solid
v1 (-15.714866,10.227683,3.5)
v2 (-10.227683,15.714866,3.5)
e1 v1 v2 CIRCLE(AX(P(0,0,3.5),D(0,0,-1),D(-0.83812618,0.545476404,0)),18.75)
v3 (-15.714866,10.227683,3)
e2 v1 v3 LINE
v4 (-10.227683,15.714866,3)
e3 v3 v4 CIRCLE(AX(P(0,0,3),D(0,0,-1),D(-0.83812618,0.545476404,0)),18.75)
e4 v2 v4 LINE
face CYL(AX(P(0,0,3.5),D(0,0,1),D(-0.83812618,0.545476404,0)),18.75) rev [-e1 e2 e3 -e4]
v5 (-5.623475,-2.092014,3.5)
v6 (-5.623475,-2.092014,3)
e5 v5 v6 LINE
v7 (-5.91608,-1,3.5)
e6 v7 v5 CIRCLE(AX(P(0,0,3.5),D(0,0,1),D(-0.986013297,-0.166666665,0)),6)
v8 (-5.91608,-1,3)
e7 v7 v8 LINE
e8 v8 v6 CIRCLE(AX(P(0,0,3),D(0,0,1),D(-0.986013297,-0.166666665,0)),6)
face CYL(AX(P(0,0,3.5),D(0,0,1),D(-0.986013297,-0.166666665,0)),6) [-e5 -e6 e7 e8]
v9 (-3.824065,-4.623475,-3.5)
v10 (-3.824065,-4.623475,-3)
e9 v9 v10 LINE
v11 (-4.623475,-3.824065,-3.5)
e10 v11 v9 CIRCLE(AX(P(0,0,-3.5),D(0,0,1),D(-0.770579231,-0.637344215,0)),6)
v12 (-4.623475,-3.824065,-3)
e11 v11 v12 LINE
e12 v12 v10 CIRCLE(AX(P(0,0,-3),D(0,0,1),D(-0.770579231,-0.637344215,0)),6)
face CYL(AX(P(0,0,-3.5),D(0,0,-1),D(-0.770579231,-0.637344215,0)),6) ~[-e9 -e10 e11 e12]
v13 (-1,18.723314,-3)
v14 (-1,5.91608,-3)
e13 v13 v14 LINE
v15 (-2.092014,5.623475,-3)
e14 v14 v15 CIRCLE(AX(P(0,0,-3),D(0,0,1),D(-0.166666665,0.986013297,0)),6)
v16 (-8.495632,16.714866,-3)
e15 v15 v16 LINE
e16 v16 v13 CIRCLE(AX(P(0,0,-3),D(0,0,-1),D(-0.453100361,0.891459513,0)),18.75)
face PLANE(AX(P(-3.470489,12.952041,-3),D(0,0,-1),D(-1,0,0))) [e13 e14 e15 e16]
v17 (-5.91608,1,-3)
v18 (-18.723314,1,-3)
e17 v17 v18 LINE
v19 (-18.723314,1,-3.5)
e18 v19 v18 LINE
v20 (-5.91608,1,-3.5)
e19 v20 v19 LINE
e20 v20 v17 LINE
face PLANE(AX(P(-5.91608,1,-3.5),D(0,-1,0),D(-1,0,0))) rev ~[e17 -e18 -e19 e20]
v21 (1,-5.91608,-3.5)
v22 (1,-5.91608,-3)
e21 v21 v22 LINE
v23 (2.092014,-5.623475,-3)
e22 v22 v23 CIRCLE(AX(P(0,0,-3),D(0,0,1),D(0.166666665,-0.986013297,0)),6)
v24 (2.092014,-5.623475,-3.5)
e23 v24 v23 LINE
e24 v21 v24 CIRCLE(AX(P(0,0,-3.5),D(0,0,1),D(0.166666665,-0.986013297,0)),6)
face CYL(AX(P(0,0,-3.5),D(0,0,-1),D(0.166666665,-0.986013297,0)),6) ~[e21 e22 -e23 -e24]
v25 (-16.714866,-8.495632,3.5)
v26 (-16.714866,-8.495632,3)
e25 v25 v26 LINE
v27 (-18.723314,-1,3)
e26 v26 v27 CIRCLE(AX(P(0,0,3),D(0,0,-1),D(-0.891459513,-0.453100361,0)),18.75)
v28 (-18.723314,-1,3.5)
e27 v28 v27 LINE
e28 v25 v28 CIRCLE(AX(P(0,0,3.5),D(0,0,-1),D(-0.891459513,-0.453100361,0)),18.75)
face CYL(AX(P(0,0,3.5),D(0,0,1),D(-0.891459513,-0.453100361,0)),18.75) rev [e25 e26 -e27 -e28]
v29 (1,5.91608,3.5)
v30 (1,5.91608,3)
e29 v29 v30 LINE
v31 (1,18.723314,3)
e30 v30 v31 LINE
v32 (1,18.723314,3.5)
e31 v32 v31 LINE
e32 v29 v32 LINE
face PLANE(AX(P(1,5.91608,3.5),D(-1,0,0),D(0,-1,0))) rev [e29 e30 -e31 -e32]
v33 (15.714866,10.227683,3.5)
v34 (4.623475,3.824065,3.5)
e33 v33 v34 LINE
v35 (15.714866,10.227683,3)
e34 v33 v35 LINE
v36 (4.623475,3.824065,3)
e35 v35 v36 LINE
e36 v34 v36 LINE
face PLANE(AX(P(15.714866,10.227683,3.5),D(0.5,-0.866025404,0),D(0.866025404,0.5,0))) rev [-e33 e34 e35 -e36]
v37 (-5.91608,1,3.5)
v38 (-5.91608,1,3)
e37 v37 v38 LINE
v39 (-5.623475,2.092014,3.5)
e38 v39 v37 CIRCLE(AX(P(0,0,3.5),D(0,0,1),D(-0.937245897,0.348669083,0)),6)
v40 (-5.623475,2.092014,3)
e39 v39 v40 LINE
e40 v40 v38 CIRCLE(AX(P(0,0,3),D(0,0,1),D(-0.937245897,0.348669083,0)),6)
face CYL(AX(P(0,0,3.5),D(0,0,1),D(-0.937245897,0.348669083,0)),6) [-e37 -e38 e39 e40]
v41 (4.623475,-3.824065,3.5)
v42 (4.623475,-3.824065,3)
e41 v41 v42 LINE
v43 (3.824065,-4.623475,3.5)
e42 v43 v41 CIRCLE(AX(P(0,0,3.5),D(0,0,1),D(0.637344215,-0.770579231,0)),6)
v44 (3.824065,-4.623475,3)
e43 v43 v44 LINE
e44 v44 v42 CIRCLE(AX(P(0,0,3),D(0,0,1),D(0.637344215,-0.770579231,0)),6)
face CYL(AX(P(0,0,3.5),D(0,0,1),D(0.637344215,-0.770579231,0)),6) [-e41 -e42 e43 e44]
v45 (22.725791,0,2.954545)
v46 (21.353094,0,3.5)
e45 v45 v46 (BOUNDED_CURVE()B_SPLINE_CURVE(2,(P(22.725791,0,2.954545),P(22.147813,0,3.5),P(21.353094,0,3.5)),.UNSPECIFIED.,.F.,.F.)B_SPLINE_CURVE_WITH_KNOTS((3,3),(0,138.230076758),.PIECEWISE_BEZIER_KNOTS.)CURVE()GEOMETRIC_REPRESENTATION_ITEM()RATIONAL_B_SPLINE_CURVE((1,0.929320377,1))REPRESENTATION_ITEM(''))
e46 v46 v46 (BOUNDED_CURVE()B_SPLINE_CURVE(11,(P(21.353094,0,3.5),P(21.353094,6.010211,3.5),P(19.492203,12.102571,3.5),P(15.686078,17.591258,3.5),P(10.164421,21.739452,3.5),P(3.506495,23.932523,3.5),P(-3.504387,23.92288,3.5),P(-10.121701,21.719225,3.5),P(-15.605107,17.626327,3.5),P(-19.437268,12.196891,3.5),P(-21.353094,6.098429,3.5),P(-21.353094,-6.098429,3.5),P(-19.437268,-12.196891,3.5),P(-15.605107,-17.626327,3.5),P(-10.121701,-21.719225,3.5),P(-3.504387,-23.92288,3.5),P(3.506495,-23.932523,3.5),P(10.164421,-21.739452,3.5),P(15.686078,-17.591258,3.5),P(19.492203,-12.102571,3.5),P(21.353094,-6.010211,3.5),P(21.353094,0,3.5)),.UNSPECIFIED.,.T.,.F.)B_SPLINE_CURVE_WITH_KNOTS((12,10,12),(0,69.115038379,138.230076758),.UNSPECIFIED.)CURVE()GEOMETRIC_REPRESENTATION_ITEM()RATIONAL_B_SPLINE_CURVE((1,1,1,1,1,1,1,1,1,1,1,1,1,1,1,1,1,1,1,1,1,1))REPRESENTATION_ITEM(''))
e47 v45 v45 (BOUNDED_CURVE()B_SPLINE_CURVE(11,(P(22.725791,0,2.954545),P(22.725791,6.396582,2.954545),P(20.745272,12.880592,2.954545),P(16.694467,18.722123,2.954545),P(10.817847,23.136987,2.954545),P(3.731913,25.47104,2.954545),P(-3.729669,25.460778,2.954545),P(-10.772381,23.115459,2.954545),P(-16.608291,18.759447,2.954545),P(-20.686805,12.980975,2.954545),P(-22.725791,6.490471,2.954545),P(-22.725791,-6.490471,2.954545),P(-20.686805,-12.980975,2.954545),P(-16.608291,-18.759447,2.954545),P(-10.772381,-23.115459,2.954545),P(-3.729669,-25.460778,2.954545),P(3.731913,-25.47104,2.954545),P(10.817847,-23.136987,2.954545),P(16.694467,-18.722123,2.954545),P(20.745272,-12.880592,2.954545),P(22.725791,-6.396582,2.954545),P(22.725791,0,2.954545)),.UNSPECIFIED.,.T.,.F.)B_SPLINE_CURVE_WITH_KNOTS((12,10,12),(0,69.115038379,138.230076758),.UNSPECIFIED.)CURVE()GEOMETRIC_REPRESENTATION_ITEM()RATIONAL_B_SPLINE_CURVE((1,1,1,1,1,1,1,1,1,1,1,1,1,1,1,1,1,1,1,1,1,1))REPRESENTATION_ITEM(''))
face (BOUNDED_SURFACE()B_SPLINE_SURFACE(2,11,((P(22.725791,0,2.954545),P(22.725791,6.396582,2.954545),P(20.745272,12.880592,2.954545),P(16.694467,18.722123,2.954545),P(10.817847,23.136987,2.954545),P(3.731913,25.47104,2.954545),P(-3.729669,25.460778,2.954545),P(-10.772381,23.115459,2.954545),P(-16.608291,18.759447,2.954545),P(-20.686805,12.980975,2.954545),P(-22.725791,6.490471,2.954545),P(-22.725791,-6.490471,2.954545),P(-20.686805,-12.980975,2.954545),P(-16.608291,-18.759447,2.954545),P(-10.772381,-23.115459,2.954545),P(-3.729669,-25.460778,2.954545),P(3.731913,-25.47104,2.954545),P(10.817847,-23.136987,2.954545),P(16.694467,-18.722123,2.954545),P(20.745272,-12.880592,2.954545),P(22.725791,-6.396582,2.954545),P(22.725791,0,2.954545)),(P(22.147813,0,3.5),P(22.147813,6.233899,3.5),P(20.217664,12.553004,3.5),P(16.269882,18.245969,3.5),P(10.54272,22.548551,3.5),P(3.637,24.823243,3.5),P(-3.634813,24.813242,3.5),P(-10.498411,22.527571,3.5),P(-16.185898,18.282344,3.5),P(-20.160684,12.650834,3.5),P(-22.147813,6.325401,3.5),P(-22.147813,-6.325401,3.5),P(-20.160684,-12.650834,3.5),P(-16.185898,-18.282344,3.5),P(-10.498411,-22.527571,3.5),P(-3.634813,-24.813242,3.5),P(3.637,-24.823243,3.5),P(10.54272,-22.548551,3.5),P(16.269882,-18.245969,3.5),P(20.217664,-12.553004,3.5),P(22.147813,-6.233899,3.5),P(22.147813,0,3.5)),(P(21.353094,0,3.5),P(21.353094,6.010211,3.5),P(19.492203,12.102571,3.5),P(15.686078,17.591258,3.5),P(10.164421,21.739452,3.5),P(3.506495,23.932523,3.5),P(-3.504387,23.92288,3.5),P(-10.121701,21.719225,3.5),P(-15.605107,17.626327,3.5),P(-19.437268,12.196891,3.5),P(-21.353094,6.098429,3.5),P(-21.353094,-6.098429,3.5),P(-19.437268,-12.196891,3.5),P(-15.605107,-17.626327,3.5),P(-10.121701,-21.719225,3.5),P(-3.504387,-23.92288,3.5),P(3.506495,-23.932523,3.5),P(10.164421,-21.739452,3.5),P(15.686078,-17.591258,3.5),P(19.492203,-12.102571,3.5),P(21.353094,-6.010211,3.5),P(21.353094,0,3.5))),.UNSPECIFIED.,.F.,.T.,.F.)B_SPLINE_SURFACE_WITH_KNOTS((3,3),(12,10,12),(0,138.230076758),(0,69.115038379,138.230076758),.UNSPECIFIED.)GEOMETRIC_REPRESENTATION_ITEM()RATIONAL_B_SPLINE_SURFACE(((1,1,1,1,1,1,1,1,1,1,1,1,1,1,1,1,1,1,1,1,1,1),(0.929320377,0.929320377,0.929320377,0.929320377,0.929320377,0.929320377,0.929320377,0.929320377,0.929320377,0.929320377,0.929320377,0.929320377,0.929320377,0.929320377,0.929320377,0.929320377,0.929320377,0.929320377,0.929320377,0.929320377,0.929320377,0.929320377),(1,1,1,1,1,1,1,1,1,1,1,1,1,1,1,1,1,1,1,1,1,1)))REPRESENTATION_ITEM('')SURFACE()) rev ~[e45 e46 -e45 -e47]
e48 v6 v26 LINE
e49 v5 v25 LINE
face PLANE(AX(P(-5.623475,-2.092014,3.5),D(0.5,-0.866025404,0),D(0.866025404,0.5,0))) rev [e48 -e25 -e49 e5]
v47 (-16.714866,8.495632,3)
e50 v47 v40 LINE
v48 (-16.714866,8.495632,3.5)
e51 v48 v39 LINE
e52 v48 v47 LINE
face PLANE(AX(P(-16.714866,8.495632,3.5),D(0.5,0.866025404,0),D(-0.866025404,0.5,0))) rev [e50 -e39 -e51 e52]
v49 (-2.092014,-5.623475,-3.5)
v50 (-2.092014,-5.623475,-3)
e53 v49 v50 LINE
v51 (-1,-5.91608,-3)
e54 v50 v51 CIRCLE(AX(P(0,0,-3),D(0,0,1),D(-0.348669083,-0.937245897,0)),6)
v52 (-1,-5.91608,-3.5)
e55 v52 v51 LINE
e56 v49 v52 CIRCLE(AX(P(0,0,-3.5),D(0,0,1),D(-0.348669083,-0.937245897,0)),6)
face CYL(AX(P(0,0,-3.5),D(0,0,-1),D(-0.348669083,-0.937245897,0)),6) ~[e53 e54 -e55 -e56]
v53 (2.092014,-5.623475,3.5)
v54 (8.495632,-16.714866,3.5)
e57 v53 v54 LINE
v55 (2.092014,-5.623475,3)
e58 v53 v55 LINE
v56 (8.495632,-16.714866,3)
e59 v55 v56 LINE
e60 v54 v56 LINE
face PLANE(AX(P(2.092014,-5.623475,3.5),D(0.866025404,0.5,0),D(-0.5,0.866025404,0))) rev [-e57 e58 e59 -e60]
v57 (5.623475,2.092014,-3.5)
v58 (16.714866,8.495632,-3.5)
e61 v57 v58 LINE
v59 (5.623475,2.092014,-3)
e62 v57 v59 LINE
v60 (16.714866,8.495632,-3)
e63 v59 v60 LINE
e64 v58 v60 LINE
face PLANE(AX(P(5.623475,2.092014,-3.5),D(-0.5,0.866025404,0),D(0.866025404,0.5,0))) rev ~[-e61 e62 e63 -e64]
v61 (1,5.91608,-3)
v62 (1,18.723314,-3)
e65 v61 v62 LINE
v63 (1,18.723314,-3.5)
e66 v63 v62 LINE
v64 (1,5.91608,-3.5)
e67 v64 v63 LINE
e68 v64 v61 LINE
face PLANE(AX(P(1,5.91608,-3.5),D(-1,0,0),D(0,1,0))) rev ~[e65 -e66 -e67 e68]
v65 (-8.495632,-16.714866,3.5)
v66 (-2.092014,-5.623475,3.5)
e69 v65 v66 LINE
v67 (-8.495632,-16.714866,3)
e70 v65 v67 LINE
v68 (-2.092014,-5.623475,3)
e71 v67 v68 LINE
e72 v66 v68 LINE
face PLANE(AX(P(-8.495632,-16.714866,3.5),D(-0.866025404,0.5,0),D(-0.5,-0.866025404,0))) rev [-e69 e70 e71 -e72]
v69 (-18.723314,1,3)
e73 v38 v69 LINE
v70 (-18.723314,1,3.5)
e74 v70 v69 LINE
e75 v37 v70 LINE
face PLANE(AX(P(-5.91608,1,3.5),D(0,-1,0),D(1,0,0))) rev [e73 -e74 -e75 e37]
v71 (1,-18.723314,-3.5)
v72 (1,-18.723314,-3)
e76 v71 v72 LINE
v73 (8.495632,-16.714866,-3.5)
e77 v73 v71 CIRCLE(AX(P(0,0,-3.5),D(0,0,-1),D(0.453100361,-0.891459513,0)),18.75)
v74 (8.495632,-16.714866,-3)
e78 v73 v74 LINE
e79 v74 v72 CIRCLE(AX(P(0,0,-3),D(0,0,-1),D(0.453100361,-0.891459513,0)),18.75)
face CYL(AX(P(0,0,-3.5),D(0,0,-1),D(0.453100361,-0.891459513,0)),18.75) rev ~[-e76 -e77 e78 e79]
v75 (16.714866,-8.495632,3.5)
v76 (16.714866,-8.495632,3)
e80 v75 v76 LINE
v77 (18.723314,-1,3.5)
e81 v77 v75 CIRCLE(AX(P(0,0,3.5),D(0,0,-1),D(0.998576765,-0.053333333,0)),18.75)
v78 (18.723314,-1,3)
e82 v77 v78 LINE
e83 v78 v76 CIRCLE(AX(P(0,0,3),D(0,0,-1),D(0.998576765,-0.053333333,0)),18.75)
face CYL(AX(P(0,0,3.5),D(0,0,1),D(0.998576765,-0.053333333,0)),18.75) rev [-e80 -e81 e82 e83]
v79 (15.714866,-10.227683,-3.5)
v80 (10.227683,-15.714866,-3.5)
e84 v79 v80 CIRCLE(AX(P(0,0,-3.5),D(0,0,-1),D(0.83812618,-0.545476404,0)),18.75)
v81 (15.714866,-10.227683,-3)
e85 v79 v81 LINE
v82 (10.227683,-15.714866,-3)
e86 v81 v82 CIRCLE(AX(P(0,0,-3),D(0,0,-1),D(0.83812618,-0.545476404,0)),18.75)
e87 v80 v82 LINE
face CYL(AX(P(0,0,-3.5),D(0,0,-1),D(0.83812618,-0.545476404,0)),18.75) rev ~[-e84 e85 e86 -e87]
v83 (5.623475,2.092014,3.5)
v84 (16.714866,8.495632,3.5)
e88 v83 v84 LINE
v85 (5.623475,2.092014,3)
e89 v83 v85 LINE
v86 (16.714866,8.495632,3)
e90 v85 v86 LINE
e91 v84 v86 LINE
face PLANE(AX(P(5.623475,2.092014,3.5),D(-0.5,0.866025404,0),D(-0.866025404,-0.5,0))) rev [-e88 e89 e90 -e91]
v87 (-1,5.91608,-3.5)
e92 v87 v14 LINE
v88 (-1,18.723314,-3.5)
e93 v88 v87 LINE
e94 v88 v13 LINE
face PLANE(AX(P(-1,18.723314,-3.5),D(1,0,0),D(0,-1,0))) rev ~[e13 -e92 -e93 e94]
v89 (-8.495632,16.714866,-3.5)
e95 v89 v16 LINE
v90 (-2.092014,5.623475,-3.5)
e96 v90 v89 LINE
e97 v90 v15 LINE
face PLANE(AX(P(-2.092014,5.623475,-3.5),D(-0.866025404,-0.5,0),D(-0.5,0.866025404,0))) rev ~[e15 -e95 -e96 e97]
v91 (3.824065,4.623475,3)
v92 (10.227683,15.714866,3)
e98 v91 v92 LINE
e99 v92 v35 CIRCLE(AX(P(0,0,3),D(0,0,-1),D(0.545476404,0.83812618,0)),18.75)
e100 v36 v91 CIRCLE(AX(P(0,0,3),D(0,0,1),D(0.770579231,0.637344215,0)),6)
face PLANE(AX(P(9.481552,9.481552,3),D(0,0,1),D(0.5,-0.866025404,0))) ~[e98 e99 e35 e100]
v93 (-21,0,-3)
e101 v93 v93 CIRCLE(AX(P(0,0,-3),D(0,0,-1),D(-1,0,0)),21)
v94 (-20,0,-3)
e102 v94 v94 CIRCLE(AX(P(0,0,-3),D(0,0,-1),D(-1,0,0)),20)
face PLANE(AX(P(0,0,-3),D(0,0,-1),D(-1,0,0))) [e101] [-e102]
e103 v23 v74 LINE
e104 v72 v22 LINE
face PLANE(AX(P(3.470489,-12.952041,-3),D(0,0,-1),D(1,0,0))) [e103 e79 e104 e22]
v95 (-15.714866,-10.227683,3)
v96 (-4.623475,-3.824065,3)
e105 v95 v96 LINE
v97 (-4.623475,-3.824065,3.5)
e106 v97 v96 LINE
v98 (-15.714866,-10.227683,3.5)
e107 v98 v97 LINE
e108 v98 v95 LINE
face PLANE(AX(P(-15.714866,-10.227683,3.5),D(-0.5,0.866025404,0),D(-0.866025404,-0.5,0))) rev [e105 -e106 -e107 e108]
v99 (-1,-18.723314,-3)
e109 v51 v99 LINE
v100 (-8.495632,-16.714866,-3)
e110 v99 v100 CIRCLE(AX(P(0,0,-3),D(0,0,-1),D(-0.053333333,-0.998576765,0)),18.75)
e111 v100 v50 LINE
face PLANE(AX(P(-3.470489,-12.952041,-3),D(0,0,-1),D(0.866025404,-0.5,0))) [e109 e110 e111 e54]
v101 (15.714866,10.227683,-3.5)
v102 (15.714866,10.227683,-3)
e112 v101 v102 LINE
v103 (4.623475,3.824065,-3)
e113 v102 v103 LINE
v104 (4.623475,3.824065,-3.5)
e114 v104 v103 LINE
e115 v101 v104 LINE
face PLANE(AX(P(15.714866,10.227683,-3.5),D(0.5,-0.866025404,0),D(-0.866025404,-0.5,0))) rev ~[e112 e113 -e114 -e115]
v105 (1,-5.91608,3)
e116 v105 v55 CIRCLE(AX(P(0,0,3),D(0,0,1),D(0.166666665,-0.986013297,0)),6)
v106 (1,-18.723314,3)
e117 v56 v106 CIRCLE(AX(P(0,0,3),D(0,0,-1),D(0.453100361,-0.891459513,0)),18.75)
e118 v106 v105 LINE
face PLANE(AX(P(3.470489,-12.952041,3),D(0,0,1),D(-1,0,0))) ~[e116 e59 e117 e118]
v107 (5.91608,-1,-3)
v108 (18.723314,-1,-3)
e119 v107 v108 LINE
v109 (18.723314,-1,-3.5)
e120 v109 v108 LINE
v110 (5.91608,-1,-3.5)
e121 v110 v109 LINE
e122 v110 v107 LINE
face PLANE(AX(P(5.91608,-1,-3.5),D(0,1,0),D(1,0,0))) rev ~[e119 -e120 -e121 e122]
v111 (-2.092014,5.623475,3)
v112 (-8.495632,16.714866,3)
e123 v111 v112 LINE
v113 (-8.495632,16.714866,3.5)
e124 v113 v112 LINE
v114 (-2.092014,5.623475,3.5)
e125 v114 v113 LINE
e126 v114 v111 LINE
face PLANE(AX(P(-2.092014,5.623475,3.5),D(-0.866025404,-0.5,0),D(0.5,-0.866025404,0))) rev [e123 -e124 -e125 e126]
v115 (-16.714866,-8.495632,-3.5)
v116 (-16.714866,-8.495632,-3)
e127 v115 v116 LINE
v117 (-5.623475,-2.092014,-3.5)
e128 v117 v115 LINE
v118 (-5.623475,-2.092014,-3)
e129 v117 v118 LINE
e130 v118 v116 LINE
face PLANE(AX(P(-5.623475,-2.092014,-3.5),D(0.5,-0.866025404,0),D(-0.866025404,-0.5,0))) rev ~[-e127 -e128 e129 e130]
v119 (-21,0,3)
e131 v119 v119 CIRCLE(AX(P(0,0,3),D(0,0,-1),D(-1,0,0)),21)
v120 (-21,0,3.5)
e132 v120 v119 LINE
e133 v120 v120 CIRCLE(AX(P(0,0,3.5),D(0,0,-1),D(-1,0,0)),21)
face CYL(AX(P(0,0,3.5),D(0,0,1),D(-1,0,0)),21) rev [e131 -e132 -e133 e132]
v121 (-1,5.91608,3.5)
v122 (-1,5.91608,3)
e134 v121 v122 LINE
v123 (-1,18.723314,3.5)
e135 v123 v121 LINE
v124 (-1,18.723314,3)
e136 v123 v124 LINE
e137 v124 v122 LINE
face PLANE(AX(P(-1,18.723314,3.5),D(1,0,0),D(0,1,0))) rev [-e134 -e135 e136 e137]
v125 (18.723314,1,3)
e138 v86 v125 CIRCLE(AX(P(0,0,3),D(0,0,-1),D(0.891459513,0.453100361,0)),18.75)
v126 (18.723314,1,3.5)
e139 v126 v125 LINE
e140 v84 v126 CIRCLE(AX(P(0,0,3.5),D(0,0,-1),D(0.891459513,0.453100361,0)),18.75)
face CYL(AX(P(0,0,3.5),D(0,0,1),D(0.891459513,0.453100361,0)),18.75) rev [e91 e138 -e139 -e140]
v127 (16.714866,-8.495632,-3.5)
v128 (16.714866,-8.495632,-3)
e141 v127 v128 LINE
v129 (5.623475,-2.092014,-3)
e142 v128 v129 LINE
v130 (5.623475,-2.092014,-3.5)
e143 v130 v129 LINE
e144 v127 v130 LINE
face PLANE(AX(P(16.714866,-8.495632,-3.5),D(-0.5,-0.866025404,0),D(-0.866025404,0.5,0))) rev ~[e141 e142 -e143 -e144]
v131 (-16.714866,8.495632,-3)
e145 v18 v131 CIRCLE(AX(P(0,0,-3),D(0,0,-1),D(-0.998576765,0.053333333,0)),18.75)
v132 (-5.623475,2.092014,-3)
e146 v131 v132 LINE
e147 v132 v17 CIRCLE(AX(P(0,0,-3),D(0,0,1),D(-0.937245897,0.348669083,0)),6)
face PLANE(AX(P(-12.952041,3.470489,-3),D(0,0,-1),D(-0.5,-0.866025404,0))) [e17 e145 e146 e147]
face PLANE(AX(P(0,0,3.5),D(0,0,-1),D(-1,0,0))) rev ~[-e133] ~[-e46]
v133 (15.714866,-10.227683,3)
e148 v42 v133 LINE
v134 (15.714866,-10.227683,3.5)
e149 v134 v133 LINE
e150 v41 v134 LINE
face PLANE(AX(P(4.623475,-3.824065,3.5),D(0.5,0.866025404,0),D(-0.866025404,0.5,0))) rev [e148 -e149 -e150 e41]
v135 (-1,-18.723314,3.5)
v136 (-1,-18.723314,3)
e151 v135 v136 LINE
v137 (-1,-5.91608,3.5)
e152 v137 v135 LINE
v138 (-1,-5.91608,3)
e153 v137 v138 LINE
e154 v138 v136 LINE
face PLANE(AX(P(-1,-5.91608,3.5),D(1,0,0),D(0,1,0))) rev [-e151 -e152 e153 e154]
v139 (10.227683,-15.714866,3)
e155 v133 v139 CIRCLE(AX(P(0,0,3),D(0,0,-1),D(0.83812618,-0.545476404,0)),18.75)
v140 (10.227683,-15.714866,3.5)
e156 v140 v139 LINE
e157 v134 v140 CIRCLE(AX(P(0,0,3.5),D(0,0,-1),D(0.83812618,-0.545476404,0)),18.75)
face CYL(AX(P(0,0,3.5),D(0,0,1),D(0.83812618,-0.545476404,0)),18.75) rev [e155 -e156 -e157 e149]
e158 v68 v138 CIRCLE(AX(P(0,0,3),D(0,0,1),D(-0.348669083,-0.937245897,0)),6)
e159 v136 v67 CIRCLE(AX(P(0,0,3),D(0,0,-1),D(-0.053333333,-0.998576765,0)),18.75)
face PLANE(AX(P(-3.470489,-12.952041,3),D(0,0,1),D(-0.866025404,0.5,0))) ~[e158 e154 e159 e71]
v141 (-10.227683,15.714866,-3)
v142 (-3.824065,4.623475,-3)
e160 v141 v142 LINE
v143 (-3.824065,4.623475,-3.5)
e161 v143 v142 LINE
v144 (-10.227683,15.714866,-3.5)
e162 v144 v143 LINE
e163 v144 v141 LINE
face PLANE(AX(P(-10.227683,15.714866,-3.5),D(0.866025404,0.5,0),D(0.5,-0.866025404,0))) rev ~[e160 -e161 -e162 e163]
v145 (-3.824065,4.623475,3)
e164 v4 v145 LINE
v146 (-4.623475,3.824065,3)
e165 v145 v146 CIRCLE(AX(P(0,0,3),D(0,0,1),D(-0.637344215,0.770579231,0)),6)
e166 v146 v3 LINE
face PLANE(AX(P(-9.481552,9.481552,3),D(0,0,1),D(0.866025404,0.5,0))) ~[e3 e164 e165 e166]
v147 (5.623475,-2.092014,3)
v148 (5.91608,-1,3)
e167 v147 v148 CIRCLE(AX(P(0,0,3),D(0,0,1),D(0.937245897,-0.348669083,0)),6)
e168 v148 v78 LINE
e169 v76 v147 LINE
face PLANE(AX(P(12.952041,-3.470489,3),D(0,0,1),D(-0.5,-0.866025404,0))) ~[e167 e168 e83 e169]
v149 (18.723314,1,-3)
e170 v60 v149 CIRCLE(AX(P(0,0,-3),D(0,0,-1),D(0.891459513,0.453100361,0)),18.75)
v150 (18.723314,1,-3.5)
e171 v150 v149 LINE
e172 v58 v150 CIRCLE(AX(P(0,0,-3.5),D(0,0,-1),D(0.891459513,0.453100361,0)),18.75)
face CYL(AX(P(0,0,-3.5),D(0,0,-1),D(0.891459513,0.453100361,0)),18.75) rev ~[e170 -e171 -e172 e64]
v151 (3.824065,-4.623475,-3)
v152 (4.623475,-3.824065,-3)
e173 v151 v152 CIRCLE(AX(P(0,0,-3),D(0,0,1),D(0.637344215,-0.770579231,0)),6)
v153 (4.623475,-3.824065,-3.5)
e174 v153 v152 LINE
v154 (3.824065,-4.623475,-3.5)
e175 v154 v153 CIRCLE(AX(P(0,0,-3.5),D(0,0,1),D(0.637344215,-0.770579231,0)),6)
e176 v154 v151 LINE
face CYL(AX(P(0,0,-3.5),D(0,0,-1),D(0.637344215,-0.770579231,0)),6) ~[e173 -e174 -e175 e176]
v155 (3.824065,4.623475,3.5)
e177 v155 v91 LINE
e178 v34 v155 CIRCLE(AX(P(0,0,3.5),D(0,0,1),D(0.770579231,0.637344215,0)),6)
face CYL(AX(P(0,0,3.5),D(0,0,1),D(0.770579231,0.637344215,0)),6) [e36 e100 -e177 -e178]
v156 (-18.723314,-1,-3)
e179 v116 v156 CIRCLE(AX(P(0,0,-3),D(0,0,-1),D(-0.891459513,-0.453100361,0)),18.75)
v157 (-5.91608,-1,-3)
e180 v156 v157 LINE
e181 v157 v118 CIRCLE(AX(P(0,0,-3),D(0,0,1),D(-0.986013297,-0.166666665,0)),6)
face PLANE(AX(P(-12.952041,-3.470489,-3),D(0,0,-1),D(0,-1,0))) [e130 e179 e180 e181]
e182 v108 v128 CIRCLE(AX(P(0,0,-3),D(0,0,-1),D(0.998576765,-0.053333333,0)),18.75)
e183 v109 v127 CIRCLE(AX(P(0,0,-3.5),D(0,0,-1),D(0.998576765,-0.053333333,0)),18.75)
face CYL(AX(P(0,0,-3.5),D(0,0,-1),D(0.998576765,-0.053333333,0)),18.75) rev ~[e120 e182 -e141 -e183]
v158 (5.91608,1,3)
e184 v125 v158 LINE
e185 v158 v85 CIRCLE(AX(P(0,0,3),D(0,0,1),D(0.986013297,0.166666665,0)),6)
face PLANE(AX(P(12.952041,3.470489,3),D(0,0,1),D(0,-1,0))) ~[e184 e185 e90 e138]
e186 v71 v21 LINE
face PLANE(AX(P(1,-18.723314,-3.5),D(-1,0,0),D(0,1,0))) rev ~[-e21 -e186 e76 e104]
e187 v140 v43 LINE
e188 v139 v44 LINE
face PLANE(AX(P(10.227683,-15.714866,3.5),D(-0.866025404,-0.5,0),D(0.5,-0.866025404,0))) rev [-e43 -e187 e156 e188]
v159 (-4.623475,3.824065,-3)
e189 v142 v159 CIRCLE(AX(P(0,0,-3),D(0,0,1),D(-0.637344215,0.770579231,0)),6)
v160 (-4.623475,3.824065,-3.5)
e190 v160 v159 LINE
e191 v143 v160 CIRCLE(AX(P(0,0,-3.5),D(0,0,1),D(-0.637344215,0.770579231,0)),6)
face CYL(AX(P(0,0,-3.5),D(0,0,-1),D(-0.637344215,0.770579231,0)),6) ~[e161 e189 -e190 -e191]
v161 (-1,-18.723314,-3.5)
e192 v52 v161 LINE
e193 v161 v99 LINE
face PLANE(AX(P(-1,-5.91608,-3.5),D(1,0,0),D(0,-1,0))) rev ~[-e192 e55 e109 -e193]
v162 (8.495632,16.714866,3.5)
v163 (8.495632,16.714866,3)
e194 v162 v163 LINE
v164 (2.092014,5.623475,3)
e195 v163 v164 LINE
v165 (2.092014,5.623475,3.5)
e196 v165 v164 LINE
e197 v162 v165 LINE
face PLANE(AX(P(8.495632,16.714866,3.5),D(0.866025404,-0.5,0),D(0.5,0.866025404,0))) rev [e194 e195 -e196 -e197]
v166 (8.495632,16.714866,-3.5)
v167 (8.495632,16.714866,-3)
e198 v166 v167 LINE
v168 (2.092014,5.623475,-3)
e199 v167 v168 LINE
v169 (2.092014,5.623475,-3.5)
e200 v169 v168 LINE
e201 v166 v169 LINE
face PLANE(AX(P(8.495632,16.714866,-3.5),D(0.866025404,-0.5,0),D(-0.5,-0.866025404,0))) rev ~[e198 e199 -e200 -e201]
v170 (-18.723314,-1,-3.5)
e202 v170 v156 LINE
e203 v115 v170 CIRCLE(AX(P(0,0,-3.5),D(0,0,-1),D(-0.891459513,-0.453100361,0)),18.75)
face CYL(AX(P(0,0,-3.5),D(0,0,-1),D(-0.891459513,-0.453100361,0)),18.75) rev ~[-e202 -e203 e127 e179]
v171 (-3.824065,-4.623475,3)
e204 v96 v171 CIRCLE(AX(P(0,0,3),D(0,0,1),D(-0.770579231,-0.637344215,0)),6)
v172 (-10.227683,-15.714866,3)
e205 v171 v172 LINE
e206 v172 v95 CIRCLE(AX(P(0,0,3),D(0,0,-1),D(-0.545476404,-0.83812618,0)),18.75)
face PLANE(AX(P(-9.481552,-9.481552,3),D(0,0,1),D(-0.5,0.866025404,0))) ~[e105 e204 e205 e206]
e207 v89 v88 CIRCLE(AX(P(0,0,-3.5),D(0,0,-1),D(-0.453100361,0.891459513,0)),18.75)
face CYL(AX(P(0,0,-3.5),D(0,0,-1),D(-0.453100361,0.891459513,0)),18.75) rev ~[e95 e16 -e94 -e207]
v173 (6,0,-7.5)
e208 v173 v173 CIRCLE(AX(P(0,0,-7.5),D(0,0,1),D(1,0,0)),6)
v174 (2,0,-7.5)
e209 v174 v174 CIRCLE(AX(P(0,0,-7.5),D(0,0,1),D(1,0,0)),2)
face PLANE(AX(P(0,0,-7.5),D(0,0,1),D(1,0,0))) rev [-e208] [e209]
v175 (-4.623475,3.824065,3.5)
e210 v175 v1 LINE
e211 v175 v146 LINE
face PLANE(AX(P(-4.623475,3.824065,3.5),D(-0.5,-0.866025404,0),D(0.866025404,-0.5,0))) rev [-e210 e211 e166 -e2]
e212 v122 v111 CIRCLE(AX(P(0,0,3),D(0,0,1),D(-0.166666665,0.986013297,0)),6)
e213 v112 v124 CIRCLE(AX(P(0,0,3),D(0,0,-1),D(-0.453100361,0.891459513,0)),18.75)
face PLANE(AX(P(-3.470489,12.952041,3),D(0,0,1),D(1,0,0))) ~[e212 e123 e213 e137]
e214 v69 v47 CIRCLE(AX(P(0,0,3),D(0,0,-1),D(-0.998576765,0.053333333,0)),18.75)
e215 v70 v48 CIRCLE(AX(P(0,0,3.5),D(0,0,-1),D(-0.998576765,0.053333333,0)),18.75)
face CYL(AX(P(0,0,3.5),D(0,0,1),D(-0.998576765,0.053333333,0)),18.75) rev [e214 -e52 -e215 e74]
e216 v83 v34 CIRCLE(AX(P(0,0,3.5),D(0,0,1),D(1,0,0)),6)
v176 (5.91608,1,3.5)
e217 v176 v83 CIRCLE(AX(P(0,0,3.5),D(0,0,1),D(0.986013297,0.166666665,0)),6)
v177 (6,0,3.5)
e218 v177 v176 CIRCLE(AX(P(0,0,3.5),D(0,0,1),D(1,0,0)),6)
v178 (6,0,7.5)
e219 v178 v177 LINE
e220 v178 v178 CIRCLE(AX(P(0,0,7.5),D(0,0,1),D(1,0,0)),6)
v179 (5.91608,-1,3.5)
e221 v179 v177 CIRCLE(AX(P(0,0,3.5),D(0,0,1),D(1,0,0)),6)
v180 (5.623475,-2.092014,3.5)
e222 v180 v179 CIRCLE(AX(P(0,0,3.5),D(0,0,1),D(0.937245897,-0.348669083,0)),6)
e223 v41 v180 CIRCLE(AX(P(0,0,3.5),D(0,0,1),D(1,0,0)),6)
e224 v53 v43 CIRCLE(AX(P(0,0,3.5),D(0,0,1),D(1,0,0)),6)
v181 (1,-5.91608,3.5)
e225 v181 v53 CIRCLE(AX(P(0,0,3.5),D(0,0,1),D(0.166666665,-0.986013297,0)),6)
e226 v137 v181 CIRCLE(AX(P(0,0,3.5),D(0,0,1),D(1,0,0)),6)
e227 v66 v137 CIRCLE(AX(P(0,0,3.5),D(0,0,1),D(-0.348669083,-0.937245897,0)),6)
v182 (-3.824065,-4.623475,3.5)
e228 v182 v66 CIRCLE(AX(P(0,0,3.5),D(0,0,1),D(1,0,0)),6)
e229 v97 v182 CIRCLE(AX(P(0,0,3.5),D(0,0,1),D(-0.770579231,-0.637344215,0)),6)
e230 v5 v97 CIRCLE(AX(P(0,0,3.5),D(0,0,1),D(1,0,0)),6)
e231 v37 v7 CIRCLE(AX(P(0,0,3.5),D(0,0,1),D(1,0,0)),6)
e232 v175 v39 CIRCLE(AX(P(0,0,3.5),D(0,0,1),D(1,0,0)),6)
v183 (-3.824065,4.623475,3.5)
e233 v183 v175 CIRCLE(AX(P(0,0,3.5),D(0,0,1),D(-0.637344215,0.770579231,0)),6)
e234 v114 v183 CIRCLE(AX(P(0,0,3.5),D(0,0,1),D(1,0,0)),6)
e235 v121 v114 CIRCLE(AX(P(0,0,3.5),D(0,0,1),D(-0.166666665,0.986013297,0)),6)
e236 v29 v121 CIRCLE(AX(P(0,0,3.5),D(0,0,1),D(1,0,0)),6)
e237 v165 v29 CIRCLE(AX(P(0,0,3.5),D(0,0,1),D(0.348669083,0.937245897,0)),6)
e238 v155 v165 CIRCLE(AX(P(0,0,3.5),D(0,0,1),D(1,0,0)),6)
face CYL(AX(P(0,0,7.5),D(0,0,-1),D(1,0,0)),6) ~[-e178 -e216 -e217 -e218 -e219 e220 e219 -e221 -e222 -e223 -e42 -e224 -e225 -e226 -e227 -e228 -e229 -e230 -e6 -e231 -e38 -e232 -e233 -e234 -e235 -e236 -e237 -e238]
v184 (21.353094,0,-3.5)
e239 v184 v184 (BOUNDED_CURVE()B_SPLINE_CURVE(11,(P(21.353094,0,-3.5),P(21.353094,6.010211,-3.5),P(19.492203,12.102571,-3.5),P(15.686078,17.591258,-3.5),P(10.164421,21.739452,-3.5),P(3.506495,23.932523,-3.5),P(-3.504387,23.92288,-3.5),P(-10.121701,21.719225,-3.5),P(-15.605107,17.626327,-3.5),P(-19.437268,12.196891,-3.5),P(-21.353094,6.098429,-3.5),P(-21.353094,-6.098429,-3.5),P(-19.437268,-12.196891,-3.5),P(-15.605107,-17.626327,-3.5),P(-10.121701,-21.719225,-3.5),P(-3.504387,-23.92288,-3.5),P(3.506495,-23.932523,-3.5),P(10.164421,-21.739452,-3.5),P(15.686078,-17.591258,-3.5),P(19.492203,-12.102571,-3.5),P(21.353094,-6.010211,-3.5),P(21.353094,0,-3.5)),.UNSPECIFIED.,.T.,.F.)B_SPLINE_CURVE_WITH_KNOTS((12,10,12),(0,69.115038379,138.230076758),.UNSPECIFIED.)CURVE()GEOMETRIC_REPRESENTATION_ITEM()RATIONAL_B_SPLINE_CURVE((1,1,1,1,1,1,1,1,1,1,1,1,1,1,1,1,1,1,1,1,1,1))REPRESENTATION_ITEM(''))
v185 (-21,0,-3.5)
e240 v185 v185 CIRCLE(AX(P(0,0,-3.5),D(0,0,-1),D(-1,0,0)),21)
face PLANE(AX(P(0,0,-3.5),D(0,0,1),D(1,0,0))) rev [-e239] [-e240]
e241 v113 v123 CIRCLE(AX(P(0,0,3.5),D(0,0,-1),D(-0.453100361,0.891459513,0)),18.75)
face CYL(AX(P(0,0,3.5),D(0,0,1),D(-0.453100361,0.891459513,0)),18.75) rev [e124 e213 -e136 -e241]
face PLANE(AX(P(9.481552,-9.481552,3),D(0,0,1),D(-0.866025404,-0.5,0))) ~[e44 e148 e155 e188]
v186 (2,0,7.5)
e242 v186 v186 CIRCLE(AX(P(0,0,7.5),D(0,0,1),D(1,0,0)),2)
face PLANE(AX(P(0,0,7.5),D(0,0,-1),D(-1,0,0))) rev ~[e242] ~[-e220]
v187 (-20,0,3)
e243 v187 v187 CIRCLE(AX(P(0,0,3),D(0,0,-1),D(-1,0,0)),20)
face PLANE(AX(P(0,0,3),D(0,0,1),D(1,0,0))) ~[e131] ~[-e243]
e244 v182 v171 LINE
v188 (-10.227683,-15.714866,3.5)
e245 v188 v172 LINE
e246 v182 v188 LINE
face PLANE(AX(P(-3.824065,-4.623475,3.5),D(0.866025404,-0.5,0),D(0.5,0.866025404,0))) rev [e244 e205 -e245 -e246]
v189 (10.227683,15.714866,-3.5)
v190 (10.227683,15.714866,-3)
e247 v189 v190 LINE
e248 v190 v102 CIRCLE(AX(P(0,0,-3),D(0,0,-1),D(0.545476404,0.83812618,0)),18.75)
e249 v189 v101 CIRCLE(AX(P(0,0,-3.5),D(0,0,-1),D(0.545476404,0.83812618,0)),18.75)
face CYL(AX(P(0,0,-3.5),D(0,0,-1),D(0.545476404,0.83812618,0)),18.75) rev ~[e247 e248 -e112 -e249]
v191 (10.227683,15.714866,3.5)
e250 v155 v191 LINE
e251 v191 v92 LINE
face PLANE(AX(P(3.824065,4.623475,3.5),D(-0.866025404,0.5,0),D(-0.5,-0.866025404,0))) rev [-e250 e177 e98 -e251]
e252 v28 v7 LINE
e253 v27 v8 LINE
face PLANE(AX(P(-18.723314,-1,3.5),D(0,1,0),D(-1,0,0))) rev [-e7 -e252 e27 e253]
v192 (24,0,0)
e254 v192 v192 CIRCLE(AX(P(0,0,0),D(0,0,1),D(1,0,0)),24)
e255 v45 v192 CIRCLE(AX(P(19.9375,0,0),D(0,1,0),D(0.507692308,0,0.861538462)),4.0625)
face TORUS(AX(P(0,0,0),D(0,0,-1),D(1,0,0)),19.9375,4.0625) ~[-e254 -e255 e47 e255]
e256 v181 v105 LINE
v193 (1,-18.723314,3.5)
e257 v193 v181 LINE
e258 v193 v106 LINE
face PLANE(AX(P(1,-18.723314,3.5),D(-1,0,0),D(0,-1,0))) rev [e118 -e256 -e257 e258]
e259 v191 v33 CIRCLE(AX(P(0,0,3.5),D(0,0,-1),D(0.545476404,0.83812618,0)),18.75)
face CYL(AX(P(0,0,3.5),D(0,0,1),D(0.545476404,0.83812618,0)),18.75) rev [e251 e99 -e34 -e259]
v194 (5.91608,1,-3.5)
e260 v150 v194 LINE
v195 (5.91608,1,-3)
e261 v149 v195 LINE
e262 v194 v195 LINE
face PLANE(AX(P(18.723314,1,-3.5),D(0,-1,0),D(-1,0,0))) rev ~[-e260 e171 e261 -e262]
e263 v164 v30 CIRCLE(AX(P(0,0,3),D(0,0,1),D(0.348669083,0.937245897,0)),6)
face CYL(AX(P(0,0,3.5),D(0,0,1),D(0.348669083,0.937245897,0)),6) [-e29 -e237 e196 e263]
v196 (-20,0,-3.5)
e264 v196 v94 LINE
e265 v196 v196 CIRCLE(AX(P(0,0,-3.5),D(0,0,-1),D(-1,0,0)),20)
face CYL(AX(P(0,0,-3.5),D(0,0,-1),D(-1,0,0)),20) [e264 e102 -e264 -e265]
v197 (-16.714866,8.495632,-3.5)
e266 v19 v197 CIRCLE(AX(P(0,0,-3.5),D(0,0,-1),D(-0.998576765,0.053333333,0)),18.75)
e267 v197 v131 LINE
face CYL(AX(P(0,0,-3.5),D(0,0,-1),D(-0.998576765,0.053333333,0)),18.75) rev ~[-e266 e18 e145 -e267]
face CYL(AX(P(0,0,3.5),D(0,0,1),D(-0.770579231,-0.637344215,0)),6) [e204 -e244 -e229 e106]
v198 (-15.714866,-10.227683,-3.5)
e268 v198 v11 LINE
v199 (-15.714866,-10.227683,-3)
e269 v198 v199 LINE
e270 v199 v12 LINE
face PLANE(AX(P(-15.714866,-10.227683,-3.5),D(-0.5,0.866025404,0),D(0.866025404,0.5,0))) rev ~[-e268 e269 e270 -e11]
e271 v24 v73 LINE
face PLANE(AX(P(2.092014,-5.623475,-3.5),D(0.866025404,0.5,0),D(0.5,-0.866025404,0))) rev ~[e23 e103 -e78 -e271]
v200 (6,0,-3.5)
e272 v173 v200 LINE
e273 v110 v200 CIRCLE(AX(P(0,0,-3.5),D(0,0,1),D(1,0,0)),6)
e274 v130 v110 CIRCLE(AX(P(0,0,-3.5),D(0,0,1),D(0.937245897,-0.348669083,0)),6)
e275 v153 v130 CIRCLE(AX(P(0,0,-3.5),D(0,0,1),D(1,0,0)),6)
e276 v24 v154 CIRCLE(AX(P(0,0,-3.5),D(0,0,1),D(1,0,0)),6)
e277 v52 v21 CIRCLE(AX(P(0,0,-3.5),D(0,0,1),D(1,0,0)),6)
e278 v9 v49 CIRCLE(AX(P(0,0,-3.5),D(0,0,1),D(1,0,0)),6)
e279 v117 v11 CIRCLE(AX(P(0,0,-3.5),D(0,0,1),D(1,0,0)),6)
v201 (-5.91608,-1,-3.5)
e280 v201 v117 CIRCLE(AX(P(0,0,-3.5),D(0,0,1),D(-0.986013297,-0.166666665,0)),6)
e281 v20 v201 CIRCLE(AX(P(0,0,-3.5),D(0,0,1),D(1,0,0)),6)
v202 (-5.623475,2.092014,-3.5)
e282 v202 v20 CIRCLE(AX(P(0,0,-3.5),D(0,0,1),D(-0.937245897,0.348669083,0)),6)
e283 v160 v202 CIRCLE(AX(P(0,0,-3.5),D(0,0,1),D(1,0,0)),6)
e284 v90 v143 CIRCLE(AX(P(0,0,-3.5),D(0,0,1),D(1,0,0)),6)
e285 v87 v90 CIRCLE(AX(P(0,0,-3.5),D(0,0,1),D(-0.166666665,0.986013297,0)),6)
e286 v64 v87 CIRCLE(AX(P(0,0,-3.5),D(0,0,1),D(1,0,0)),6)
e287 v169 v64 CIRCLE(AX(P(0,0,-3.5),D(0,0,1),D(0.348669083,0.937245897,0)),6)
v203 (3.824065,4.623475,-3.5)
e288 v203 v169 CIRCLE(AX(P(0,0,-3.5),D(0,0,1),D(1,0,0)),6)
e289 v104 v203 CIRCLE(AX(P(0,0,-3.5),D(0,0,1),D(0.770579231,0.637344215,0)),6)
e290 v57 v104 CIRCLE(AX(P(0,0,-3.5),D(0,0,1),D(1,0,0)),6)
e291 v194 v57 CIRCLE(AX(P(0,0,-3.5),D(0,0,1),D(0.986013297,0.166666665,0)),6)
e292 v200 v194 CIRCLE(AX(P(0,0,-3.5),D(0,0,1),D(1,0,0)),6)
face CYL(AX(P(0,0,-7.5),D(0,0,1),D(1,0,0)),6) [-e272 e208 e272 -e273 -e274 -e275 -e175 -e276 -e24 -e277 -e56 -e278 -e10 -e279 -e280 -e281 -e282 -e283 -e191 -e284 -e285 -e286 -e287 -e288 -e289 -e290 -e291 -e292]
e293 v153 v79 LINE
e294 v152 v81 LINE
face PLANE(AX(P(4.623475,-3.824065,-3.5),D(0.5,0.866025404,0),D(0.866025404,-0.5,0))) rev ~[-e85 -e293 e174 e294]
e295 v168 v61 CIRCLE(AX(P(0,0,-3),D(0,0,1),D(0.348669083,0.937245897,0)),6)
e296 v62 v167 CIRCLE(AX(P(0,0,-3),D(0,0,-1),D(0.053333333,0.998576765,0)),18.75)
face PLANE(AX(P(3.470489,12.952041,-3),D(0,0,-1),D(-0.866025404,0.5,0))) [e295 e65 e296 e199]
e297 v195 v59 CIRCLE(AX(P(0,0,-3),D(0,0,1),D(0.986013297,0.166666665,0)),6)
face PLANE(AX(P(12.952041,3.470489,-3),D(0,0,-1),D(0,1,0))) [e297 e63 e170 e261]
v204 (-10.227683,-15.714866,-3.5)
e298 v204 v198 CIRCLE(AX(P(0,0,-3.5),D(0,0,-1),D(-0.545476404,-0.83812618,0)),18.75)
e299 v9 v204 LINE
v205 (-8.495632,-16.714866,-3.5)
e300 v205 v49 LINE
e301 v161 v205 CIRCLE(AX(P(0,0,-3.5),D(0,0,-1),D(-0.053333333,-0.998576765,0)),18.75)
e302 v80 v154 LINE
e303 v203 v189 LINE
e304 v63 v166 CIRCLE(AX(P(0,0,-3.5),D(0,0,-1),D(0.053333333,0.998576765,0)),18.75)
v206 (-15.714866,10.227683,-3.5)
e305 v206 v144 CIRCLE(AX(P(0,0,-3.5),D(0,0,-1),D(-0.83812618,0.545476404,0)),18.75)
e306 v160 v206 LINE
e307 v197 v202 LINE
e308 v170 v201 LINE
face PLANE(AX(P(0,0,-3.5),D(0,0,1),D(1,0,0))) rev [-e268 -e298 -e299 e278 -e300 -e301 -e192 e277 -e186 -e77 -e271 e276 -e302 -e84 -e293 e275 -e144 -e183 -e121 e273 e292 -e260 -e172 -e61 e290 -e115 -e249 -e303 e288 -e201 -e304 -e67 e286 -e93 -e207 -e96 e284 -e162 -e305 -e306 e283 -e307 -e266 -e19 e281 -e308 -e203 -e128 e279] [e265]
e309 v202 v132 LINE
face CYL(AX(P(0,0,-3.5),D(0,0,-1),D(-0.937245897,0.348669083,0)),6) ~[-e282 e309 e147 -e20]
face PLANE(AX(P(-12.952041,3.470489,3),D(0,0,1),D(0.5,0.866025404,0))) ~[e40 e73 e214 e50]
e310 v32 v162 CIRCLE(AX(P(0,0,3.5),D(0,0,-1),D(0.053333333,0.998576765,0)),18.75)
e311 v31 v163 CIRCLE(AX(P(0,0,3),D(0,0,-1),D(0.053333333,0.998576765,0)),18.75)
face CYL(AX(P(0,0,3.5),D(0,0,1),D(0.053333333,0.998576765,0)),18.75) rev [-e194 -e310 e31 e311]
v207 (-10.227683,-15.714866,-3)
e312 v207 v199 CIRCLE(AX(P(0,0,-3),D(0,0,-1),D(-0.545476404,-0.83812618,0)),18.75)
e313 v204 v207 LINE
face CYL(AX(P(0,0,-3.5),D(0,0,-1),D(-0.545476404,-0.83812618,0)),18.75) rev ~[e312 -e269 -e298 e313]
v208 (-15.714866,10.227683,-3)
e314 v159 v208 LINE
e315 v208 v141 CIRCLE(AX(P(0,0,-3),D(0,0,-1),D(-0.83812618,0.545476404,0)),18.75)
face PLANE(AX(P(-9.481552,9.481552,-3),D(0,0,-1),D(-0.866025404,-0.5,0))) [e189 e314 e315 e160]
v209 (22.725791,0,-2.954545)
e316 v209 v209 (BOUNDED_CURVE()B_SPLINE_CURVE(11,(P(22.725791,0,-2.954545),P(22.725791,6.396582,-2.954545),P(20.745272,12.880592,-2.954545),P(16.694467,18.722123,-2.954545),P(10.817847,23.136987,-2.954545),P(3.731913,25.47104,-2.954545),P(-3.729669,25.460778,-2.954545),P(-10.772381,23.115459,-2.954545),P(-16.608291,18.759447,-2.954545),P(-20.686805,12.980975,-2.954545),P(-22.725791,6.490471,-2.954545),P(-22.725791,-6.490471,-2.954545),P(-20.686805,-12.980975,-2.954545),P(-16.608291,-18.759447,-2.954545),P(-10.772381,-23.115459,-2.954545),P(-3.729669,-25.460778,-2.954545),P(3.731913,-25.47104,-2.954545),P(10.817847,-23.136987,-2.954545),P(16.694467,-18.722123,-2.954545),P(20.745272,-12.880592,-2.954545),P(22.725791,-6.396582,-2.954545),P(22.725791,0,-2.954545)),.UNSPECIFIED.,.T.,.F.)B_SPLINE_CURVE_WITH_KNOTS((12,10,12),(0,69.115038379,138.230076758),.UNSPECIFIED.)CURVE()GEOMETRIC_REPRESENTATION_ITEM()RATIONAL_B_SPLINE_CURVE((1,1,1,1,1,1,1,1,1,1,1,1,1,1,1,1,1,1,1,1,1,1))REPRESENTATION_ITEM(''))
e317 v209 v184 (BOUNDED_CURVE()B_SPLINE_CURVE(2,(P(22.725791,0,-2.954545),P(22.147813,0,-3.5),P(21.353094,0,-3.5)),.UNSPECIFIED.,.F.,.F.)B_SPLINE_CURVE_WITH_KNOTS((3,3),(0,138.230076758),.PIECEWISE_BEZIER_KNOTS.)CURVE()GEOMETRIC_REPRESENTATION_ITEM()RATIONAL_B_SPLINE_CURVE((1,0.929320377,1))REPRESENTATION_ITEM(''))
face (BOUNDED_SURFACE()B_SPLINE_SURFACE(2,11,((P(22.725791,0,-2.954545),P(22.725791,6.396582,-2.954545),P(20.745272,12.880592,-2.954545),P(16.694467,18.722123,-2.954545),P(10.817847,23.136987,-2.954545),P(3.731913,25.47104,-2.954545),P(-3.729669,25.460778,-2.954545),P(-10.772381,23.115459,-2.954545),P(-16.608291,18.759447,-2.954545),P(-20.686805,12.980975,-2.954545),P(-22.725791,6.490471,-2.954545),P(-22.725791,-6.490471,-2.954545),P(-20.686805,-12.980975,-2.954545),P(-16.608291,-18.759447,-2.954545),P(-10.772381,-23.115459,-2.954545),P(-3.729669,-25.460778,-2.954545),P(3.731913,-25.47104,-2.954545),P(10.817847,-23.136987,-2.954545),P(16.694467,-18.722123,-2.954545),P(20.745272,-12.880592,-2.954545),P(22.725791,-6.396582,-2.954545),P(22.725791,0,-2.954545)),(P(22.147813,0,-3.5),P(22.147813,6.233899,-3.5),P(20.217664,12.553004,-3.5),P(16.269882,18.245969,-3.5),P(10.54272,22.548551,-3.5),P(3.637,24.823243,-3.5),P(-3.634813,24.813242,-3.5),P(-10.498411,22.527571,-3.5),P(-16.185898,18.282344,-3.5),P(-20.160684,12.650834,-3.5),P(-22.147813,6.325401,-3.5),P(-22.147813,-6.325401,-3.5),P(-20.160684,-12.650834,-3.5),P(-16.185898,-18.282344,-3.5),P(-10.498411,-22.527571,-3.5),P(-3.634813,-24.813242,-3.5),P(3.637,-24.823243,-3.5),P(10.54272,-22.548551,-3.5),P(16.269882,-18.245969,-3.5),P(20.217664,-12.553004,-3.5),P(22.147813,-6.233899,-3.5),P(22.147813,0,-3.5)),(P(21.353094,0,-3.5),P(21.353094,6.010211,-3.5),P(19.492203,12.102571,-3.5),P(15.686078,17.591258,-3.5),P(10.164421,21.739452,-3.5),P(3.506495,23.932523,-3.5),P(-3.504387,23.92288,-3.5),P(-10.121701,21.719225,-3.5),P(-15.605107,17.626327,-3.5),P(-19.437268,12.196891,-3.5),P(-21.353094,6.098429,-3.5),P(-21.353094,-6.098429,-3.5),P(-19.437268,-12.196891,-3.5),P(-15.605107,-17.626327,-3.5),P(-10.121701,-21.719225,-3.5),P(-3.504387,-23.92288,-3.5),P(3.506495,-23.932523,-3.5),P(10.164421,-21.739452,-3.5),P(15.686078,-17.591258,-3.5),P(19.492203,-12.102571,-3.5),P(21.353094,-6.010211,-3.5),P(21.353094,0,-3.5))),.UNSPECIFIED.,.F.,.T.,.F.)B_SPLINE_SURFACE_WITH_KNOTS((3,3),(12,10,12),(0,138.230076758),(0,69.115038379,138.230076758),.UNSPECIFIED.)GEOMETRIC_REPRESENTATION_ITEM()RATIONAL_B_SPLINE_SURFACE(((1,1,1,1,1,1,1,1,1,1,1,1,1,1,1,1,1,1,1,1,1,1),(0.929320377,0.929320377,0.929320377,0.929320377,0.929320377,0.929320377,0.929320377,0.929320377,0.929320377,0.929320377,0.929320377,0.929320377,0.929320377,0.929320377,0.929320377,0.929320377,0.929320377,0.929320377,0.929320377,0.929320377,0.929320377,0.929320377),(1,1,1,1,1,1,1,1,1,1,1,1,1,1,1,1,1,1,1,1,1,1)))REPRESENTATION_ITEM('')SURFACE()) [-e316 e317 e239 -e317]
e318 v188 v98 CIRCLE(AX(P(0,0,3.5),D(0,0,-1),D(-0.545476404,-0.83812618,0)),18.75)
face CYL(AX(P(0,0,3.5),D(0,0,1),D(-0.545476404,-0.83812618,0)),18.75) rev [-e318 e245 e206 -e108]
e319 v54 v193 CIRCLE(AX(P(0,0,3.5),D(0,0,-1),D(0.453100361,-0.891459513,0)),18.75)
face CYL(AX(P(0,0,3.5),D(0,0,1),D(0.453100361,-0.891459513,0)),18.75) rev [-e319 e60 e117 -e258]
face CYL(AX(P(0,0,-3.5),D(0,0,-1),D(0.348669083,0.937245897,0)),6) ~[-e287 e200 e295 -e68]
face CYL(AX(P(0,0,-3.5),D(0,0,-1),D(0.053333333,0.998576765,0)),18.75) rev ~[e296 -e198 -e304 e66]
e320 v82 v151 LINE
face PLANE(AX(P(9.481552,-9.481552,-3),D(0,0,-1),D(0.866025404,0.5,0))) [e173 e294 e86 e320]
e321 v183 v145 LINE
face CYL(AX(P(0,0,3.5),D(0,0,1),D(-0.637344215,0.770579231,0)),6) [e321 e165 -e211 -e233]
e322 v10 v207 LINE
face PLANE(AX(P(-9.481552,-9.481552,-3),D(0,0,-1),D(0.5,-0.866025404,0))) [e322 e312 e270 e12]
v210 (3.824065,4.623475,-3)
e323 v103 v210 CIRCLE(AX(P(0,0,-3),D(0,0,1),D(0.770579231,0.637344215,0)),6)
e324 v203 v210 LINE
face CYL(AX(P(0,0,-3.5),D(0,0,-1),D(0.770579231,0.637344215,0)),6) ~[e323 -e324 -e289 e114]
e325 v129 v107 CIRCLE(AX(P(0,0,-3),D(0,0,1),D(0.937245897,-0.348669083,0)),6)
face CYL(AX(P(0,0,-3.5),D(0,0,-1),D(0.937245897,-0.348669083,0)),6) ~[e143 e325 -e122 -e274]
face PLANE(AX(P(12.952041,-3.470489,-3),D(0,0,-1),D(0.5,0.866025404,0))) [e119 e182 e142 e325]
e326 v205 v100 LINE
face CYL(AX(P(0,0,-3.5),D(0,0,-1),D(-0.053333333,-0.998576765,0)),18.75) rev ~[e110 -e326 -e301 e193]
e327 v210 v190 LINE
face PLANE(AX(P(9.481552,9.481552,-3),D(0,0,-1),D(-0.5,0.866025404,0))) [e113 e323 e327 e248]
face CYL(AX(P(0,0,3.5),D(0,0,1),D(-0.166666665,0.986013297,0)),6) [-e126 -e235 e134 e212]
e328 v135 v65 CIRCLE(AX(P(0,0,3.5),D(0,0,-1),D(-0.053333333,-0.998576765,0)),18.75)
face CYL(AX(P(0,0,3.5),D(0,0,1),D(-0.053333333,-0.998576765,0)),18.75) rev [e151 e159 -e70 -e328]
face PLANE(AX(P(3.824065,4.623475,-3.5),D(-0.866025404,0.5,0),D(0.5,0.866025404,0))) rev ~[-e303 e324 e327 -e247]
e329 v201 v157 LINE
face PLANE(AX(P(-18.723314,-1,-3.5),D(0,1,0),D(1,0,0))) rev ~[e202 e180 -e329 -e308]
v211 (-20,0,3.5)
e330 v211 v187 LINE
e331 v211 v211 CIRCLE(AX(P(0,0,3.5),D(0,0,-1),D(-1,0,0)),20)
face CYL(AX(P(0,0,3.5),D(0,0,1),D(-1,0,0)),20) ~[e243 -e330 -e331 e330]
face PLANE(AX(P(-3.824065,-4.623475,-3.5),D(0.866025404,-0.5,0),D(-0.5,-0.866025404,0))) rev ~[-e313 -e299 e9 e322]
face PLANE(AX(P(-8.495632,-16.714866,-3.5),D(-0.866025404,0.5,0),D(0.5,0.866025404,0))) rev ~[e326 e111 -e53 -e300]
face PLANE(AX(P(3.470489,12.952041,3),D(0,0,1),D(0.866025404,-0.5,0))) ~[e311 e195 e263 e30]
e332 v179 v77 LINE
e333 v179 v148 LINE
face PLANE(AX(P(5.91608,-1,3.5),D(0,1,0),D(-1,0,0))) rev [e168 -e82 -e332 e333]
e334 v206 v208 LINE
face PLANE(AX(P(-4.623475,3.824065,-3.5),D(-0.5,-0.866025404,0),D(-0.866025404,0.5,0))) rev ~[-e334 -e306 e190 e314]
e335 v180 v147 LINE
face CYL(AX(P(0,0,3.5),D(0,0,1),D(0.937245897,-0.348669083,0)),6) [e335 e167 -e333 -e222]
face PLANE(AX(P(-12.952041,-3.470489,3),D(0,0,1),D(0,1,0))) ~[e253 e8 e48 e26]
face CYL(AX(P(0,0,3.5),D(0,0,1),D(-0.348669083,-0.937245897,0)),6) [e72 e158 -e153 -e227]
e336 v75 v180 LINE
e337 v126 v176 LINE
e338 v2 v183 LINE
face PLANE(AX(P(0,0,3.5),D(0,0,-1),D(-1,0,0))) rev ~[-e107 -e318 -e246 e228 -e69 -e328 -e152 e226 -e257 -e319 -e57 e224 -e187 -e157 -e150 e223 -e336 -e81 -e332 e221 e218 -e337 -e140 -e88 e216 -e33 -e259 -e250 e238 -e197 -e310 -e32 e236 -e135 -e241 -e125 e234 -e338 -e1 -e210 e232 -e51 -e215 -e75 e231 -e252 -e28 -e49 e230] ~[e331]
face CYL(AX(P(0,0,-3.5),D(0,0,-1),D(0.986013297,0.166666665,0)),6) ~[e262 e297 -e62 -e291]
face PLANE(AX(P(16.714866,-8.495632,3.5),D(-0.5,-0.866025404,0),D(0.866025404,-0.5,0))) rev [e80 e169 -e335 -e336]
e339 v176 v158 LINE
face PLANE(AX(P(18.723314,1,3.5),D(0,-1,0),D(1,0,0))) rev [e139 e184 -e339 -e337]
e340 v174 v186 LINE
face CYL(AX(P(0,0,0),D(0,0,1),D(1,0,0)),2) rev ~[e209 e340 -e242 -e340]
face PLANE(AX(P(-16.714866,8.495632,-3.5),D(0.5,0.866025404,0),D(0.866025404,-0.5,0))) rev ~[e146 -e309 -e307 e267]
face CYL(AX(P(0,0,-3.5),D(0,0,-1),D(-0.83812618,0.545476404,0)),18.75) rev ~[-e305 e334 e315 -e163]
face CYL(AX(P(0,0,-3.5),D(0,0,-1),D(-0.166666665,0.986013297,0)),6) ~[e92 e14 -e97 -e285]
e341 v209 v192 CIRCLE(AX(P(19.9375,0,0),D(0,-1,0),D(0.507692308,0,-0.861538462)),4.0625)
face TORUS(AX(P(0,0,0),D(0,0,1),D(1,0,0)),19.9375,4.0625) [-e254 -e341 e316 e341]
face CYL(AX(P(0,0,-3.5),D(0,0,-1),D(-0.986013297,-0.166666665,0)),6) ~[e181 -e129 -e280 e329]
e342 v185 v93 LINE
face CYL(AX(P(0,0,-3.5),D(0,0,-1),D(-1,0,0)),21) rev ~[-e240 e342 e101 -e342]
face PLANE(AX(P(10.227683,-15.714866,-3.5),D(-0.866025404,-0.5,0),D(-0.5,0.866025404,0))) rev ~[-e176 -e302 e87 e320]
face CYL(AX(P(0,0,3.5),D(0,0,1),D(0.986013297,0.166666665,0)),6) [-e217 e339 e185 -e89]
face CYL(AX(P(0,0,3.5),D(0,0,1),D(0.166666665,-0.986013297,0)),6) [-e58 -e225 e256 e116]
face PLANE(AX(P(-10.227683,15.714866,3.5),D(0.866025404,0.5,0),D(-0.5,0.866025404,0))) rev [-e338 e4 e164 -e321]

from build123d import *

# Parameters (mm, degrees)
SKETCH2_R          = 21
SKETCH2_R_2        = 20
CUT_EXTRUDE1_DEPTH = 0.5
FILLET1_R          = 2
CUT_EXTRUDE2_DEPTH = 0.5
CIRPATTERN1_COUNT  = 12


with BuildPart() as part:
    # Sketch1 → Revolve1 (revolve)
    with BuildSketch(Plane(origin=(0, 0, 0), x_dir=(1, 0, 0), z_dir=(0, 1, 0))):
        with BuildLine():
            Line((2, 0), (2, 7.5))
            Line((2, 7.5), (6, 7.5))
            Line((6, 7.5), (6, 3.5))
            Line((6, 3.5), (22, 3.5))
            ThreePointArc((22, 3.5), (23.464737765, 2.015564437), (24, 0))
            Line((24, 0), (2, 0))
        make_face()
    revolve(axis=Axis((0, 0, -79.664313946), (0, 0, 1)))

    # Sketch2 → Cut-Extrude1 (cut)
    with BuildSketch(Plane(origin=(0, 0, -3.5), x_dir=(-1, 0, 0), z_dir=(0, 0, -1))):
        Circle(SKETCH2_R)
        Circle(SKETCH2_R_2, mode=Mode.SUBTRACT)
    extrude(amount=-CUT_EXTRUDE1_DEPTH, mode=Mode.SUBTRACT)

    # Fillet1
    fillet1_edges = [part.edges().sort_by_distance(p)[0] for p in [
        (-22, 0, -3.5),
    ]]
    fillet(fillet1_edges, radius=FILLET1_R)

    # Sketch3 → Cut-Extrude2 (cut)
    with BuildSketch(Plane(origin=(0, 0, -3.5), x_dir=(-1, 0, 0), z_dir=(0, 0, -1))):
        with BuildLine():
            Line((1, 18.723314343), (1, 5.916079783))
            ThreePointArc((1, 5.916079783), (1.552914271, 5.795554958), (2.092014488, 5.623475383))
            Line((2.092014488, 5.623475383), (8.495631768, 16.714865864))
            ThreePointArc((8.495631768, 16.714865864), (4.852857096, 18.111109243), (1, 18.723314343))
        make_face()
    cut_extrude2 = extrude(amount=-CUT_EXTRUDE2_DEPTH, mode=Mode.SUBTRACT)

    # CirPattern1: Cut-Extrude2 ×12 about axis
    cirpattern1_axis = Axis((0, 0, 0), (0, 0, 1))
    for i in range(1, CIRPATTERN1_COUNT):
        add(cut_extrude2.rotate(cirpattern1_axis, i * 360 / CIRPATTERN1_COUNT), mode=Mode.SUBTRACT)

    # Mirror1: part across plane


with BuildPart() as part_1:
    add(part.part)
    add(part.part.mirror(Plane(origin=(2, 0, 0), x_dir=(1, 0, 0), z_dir=(0, 0, -1))))


solid = part_1.part
